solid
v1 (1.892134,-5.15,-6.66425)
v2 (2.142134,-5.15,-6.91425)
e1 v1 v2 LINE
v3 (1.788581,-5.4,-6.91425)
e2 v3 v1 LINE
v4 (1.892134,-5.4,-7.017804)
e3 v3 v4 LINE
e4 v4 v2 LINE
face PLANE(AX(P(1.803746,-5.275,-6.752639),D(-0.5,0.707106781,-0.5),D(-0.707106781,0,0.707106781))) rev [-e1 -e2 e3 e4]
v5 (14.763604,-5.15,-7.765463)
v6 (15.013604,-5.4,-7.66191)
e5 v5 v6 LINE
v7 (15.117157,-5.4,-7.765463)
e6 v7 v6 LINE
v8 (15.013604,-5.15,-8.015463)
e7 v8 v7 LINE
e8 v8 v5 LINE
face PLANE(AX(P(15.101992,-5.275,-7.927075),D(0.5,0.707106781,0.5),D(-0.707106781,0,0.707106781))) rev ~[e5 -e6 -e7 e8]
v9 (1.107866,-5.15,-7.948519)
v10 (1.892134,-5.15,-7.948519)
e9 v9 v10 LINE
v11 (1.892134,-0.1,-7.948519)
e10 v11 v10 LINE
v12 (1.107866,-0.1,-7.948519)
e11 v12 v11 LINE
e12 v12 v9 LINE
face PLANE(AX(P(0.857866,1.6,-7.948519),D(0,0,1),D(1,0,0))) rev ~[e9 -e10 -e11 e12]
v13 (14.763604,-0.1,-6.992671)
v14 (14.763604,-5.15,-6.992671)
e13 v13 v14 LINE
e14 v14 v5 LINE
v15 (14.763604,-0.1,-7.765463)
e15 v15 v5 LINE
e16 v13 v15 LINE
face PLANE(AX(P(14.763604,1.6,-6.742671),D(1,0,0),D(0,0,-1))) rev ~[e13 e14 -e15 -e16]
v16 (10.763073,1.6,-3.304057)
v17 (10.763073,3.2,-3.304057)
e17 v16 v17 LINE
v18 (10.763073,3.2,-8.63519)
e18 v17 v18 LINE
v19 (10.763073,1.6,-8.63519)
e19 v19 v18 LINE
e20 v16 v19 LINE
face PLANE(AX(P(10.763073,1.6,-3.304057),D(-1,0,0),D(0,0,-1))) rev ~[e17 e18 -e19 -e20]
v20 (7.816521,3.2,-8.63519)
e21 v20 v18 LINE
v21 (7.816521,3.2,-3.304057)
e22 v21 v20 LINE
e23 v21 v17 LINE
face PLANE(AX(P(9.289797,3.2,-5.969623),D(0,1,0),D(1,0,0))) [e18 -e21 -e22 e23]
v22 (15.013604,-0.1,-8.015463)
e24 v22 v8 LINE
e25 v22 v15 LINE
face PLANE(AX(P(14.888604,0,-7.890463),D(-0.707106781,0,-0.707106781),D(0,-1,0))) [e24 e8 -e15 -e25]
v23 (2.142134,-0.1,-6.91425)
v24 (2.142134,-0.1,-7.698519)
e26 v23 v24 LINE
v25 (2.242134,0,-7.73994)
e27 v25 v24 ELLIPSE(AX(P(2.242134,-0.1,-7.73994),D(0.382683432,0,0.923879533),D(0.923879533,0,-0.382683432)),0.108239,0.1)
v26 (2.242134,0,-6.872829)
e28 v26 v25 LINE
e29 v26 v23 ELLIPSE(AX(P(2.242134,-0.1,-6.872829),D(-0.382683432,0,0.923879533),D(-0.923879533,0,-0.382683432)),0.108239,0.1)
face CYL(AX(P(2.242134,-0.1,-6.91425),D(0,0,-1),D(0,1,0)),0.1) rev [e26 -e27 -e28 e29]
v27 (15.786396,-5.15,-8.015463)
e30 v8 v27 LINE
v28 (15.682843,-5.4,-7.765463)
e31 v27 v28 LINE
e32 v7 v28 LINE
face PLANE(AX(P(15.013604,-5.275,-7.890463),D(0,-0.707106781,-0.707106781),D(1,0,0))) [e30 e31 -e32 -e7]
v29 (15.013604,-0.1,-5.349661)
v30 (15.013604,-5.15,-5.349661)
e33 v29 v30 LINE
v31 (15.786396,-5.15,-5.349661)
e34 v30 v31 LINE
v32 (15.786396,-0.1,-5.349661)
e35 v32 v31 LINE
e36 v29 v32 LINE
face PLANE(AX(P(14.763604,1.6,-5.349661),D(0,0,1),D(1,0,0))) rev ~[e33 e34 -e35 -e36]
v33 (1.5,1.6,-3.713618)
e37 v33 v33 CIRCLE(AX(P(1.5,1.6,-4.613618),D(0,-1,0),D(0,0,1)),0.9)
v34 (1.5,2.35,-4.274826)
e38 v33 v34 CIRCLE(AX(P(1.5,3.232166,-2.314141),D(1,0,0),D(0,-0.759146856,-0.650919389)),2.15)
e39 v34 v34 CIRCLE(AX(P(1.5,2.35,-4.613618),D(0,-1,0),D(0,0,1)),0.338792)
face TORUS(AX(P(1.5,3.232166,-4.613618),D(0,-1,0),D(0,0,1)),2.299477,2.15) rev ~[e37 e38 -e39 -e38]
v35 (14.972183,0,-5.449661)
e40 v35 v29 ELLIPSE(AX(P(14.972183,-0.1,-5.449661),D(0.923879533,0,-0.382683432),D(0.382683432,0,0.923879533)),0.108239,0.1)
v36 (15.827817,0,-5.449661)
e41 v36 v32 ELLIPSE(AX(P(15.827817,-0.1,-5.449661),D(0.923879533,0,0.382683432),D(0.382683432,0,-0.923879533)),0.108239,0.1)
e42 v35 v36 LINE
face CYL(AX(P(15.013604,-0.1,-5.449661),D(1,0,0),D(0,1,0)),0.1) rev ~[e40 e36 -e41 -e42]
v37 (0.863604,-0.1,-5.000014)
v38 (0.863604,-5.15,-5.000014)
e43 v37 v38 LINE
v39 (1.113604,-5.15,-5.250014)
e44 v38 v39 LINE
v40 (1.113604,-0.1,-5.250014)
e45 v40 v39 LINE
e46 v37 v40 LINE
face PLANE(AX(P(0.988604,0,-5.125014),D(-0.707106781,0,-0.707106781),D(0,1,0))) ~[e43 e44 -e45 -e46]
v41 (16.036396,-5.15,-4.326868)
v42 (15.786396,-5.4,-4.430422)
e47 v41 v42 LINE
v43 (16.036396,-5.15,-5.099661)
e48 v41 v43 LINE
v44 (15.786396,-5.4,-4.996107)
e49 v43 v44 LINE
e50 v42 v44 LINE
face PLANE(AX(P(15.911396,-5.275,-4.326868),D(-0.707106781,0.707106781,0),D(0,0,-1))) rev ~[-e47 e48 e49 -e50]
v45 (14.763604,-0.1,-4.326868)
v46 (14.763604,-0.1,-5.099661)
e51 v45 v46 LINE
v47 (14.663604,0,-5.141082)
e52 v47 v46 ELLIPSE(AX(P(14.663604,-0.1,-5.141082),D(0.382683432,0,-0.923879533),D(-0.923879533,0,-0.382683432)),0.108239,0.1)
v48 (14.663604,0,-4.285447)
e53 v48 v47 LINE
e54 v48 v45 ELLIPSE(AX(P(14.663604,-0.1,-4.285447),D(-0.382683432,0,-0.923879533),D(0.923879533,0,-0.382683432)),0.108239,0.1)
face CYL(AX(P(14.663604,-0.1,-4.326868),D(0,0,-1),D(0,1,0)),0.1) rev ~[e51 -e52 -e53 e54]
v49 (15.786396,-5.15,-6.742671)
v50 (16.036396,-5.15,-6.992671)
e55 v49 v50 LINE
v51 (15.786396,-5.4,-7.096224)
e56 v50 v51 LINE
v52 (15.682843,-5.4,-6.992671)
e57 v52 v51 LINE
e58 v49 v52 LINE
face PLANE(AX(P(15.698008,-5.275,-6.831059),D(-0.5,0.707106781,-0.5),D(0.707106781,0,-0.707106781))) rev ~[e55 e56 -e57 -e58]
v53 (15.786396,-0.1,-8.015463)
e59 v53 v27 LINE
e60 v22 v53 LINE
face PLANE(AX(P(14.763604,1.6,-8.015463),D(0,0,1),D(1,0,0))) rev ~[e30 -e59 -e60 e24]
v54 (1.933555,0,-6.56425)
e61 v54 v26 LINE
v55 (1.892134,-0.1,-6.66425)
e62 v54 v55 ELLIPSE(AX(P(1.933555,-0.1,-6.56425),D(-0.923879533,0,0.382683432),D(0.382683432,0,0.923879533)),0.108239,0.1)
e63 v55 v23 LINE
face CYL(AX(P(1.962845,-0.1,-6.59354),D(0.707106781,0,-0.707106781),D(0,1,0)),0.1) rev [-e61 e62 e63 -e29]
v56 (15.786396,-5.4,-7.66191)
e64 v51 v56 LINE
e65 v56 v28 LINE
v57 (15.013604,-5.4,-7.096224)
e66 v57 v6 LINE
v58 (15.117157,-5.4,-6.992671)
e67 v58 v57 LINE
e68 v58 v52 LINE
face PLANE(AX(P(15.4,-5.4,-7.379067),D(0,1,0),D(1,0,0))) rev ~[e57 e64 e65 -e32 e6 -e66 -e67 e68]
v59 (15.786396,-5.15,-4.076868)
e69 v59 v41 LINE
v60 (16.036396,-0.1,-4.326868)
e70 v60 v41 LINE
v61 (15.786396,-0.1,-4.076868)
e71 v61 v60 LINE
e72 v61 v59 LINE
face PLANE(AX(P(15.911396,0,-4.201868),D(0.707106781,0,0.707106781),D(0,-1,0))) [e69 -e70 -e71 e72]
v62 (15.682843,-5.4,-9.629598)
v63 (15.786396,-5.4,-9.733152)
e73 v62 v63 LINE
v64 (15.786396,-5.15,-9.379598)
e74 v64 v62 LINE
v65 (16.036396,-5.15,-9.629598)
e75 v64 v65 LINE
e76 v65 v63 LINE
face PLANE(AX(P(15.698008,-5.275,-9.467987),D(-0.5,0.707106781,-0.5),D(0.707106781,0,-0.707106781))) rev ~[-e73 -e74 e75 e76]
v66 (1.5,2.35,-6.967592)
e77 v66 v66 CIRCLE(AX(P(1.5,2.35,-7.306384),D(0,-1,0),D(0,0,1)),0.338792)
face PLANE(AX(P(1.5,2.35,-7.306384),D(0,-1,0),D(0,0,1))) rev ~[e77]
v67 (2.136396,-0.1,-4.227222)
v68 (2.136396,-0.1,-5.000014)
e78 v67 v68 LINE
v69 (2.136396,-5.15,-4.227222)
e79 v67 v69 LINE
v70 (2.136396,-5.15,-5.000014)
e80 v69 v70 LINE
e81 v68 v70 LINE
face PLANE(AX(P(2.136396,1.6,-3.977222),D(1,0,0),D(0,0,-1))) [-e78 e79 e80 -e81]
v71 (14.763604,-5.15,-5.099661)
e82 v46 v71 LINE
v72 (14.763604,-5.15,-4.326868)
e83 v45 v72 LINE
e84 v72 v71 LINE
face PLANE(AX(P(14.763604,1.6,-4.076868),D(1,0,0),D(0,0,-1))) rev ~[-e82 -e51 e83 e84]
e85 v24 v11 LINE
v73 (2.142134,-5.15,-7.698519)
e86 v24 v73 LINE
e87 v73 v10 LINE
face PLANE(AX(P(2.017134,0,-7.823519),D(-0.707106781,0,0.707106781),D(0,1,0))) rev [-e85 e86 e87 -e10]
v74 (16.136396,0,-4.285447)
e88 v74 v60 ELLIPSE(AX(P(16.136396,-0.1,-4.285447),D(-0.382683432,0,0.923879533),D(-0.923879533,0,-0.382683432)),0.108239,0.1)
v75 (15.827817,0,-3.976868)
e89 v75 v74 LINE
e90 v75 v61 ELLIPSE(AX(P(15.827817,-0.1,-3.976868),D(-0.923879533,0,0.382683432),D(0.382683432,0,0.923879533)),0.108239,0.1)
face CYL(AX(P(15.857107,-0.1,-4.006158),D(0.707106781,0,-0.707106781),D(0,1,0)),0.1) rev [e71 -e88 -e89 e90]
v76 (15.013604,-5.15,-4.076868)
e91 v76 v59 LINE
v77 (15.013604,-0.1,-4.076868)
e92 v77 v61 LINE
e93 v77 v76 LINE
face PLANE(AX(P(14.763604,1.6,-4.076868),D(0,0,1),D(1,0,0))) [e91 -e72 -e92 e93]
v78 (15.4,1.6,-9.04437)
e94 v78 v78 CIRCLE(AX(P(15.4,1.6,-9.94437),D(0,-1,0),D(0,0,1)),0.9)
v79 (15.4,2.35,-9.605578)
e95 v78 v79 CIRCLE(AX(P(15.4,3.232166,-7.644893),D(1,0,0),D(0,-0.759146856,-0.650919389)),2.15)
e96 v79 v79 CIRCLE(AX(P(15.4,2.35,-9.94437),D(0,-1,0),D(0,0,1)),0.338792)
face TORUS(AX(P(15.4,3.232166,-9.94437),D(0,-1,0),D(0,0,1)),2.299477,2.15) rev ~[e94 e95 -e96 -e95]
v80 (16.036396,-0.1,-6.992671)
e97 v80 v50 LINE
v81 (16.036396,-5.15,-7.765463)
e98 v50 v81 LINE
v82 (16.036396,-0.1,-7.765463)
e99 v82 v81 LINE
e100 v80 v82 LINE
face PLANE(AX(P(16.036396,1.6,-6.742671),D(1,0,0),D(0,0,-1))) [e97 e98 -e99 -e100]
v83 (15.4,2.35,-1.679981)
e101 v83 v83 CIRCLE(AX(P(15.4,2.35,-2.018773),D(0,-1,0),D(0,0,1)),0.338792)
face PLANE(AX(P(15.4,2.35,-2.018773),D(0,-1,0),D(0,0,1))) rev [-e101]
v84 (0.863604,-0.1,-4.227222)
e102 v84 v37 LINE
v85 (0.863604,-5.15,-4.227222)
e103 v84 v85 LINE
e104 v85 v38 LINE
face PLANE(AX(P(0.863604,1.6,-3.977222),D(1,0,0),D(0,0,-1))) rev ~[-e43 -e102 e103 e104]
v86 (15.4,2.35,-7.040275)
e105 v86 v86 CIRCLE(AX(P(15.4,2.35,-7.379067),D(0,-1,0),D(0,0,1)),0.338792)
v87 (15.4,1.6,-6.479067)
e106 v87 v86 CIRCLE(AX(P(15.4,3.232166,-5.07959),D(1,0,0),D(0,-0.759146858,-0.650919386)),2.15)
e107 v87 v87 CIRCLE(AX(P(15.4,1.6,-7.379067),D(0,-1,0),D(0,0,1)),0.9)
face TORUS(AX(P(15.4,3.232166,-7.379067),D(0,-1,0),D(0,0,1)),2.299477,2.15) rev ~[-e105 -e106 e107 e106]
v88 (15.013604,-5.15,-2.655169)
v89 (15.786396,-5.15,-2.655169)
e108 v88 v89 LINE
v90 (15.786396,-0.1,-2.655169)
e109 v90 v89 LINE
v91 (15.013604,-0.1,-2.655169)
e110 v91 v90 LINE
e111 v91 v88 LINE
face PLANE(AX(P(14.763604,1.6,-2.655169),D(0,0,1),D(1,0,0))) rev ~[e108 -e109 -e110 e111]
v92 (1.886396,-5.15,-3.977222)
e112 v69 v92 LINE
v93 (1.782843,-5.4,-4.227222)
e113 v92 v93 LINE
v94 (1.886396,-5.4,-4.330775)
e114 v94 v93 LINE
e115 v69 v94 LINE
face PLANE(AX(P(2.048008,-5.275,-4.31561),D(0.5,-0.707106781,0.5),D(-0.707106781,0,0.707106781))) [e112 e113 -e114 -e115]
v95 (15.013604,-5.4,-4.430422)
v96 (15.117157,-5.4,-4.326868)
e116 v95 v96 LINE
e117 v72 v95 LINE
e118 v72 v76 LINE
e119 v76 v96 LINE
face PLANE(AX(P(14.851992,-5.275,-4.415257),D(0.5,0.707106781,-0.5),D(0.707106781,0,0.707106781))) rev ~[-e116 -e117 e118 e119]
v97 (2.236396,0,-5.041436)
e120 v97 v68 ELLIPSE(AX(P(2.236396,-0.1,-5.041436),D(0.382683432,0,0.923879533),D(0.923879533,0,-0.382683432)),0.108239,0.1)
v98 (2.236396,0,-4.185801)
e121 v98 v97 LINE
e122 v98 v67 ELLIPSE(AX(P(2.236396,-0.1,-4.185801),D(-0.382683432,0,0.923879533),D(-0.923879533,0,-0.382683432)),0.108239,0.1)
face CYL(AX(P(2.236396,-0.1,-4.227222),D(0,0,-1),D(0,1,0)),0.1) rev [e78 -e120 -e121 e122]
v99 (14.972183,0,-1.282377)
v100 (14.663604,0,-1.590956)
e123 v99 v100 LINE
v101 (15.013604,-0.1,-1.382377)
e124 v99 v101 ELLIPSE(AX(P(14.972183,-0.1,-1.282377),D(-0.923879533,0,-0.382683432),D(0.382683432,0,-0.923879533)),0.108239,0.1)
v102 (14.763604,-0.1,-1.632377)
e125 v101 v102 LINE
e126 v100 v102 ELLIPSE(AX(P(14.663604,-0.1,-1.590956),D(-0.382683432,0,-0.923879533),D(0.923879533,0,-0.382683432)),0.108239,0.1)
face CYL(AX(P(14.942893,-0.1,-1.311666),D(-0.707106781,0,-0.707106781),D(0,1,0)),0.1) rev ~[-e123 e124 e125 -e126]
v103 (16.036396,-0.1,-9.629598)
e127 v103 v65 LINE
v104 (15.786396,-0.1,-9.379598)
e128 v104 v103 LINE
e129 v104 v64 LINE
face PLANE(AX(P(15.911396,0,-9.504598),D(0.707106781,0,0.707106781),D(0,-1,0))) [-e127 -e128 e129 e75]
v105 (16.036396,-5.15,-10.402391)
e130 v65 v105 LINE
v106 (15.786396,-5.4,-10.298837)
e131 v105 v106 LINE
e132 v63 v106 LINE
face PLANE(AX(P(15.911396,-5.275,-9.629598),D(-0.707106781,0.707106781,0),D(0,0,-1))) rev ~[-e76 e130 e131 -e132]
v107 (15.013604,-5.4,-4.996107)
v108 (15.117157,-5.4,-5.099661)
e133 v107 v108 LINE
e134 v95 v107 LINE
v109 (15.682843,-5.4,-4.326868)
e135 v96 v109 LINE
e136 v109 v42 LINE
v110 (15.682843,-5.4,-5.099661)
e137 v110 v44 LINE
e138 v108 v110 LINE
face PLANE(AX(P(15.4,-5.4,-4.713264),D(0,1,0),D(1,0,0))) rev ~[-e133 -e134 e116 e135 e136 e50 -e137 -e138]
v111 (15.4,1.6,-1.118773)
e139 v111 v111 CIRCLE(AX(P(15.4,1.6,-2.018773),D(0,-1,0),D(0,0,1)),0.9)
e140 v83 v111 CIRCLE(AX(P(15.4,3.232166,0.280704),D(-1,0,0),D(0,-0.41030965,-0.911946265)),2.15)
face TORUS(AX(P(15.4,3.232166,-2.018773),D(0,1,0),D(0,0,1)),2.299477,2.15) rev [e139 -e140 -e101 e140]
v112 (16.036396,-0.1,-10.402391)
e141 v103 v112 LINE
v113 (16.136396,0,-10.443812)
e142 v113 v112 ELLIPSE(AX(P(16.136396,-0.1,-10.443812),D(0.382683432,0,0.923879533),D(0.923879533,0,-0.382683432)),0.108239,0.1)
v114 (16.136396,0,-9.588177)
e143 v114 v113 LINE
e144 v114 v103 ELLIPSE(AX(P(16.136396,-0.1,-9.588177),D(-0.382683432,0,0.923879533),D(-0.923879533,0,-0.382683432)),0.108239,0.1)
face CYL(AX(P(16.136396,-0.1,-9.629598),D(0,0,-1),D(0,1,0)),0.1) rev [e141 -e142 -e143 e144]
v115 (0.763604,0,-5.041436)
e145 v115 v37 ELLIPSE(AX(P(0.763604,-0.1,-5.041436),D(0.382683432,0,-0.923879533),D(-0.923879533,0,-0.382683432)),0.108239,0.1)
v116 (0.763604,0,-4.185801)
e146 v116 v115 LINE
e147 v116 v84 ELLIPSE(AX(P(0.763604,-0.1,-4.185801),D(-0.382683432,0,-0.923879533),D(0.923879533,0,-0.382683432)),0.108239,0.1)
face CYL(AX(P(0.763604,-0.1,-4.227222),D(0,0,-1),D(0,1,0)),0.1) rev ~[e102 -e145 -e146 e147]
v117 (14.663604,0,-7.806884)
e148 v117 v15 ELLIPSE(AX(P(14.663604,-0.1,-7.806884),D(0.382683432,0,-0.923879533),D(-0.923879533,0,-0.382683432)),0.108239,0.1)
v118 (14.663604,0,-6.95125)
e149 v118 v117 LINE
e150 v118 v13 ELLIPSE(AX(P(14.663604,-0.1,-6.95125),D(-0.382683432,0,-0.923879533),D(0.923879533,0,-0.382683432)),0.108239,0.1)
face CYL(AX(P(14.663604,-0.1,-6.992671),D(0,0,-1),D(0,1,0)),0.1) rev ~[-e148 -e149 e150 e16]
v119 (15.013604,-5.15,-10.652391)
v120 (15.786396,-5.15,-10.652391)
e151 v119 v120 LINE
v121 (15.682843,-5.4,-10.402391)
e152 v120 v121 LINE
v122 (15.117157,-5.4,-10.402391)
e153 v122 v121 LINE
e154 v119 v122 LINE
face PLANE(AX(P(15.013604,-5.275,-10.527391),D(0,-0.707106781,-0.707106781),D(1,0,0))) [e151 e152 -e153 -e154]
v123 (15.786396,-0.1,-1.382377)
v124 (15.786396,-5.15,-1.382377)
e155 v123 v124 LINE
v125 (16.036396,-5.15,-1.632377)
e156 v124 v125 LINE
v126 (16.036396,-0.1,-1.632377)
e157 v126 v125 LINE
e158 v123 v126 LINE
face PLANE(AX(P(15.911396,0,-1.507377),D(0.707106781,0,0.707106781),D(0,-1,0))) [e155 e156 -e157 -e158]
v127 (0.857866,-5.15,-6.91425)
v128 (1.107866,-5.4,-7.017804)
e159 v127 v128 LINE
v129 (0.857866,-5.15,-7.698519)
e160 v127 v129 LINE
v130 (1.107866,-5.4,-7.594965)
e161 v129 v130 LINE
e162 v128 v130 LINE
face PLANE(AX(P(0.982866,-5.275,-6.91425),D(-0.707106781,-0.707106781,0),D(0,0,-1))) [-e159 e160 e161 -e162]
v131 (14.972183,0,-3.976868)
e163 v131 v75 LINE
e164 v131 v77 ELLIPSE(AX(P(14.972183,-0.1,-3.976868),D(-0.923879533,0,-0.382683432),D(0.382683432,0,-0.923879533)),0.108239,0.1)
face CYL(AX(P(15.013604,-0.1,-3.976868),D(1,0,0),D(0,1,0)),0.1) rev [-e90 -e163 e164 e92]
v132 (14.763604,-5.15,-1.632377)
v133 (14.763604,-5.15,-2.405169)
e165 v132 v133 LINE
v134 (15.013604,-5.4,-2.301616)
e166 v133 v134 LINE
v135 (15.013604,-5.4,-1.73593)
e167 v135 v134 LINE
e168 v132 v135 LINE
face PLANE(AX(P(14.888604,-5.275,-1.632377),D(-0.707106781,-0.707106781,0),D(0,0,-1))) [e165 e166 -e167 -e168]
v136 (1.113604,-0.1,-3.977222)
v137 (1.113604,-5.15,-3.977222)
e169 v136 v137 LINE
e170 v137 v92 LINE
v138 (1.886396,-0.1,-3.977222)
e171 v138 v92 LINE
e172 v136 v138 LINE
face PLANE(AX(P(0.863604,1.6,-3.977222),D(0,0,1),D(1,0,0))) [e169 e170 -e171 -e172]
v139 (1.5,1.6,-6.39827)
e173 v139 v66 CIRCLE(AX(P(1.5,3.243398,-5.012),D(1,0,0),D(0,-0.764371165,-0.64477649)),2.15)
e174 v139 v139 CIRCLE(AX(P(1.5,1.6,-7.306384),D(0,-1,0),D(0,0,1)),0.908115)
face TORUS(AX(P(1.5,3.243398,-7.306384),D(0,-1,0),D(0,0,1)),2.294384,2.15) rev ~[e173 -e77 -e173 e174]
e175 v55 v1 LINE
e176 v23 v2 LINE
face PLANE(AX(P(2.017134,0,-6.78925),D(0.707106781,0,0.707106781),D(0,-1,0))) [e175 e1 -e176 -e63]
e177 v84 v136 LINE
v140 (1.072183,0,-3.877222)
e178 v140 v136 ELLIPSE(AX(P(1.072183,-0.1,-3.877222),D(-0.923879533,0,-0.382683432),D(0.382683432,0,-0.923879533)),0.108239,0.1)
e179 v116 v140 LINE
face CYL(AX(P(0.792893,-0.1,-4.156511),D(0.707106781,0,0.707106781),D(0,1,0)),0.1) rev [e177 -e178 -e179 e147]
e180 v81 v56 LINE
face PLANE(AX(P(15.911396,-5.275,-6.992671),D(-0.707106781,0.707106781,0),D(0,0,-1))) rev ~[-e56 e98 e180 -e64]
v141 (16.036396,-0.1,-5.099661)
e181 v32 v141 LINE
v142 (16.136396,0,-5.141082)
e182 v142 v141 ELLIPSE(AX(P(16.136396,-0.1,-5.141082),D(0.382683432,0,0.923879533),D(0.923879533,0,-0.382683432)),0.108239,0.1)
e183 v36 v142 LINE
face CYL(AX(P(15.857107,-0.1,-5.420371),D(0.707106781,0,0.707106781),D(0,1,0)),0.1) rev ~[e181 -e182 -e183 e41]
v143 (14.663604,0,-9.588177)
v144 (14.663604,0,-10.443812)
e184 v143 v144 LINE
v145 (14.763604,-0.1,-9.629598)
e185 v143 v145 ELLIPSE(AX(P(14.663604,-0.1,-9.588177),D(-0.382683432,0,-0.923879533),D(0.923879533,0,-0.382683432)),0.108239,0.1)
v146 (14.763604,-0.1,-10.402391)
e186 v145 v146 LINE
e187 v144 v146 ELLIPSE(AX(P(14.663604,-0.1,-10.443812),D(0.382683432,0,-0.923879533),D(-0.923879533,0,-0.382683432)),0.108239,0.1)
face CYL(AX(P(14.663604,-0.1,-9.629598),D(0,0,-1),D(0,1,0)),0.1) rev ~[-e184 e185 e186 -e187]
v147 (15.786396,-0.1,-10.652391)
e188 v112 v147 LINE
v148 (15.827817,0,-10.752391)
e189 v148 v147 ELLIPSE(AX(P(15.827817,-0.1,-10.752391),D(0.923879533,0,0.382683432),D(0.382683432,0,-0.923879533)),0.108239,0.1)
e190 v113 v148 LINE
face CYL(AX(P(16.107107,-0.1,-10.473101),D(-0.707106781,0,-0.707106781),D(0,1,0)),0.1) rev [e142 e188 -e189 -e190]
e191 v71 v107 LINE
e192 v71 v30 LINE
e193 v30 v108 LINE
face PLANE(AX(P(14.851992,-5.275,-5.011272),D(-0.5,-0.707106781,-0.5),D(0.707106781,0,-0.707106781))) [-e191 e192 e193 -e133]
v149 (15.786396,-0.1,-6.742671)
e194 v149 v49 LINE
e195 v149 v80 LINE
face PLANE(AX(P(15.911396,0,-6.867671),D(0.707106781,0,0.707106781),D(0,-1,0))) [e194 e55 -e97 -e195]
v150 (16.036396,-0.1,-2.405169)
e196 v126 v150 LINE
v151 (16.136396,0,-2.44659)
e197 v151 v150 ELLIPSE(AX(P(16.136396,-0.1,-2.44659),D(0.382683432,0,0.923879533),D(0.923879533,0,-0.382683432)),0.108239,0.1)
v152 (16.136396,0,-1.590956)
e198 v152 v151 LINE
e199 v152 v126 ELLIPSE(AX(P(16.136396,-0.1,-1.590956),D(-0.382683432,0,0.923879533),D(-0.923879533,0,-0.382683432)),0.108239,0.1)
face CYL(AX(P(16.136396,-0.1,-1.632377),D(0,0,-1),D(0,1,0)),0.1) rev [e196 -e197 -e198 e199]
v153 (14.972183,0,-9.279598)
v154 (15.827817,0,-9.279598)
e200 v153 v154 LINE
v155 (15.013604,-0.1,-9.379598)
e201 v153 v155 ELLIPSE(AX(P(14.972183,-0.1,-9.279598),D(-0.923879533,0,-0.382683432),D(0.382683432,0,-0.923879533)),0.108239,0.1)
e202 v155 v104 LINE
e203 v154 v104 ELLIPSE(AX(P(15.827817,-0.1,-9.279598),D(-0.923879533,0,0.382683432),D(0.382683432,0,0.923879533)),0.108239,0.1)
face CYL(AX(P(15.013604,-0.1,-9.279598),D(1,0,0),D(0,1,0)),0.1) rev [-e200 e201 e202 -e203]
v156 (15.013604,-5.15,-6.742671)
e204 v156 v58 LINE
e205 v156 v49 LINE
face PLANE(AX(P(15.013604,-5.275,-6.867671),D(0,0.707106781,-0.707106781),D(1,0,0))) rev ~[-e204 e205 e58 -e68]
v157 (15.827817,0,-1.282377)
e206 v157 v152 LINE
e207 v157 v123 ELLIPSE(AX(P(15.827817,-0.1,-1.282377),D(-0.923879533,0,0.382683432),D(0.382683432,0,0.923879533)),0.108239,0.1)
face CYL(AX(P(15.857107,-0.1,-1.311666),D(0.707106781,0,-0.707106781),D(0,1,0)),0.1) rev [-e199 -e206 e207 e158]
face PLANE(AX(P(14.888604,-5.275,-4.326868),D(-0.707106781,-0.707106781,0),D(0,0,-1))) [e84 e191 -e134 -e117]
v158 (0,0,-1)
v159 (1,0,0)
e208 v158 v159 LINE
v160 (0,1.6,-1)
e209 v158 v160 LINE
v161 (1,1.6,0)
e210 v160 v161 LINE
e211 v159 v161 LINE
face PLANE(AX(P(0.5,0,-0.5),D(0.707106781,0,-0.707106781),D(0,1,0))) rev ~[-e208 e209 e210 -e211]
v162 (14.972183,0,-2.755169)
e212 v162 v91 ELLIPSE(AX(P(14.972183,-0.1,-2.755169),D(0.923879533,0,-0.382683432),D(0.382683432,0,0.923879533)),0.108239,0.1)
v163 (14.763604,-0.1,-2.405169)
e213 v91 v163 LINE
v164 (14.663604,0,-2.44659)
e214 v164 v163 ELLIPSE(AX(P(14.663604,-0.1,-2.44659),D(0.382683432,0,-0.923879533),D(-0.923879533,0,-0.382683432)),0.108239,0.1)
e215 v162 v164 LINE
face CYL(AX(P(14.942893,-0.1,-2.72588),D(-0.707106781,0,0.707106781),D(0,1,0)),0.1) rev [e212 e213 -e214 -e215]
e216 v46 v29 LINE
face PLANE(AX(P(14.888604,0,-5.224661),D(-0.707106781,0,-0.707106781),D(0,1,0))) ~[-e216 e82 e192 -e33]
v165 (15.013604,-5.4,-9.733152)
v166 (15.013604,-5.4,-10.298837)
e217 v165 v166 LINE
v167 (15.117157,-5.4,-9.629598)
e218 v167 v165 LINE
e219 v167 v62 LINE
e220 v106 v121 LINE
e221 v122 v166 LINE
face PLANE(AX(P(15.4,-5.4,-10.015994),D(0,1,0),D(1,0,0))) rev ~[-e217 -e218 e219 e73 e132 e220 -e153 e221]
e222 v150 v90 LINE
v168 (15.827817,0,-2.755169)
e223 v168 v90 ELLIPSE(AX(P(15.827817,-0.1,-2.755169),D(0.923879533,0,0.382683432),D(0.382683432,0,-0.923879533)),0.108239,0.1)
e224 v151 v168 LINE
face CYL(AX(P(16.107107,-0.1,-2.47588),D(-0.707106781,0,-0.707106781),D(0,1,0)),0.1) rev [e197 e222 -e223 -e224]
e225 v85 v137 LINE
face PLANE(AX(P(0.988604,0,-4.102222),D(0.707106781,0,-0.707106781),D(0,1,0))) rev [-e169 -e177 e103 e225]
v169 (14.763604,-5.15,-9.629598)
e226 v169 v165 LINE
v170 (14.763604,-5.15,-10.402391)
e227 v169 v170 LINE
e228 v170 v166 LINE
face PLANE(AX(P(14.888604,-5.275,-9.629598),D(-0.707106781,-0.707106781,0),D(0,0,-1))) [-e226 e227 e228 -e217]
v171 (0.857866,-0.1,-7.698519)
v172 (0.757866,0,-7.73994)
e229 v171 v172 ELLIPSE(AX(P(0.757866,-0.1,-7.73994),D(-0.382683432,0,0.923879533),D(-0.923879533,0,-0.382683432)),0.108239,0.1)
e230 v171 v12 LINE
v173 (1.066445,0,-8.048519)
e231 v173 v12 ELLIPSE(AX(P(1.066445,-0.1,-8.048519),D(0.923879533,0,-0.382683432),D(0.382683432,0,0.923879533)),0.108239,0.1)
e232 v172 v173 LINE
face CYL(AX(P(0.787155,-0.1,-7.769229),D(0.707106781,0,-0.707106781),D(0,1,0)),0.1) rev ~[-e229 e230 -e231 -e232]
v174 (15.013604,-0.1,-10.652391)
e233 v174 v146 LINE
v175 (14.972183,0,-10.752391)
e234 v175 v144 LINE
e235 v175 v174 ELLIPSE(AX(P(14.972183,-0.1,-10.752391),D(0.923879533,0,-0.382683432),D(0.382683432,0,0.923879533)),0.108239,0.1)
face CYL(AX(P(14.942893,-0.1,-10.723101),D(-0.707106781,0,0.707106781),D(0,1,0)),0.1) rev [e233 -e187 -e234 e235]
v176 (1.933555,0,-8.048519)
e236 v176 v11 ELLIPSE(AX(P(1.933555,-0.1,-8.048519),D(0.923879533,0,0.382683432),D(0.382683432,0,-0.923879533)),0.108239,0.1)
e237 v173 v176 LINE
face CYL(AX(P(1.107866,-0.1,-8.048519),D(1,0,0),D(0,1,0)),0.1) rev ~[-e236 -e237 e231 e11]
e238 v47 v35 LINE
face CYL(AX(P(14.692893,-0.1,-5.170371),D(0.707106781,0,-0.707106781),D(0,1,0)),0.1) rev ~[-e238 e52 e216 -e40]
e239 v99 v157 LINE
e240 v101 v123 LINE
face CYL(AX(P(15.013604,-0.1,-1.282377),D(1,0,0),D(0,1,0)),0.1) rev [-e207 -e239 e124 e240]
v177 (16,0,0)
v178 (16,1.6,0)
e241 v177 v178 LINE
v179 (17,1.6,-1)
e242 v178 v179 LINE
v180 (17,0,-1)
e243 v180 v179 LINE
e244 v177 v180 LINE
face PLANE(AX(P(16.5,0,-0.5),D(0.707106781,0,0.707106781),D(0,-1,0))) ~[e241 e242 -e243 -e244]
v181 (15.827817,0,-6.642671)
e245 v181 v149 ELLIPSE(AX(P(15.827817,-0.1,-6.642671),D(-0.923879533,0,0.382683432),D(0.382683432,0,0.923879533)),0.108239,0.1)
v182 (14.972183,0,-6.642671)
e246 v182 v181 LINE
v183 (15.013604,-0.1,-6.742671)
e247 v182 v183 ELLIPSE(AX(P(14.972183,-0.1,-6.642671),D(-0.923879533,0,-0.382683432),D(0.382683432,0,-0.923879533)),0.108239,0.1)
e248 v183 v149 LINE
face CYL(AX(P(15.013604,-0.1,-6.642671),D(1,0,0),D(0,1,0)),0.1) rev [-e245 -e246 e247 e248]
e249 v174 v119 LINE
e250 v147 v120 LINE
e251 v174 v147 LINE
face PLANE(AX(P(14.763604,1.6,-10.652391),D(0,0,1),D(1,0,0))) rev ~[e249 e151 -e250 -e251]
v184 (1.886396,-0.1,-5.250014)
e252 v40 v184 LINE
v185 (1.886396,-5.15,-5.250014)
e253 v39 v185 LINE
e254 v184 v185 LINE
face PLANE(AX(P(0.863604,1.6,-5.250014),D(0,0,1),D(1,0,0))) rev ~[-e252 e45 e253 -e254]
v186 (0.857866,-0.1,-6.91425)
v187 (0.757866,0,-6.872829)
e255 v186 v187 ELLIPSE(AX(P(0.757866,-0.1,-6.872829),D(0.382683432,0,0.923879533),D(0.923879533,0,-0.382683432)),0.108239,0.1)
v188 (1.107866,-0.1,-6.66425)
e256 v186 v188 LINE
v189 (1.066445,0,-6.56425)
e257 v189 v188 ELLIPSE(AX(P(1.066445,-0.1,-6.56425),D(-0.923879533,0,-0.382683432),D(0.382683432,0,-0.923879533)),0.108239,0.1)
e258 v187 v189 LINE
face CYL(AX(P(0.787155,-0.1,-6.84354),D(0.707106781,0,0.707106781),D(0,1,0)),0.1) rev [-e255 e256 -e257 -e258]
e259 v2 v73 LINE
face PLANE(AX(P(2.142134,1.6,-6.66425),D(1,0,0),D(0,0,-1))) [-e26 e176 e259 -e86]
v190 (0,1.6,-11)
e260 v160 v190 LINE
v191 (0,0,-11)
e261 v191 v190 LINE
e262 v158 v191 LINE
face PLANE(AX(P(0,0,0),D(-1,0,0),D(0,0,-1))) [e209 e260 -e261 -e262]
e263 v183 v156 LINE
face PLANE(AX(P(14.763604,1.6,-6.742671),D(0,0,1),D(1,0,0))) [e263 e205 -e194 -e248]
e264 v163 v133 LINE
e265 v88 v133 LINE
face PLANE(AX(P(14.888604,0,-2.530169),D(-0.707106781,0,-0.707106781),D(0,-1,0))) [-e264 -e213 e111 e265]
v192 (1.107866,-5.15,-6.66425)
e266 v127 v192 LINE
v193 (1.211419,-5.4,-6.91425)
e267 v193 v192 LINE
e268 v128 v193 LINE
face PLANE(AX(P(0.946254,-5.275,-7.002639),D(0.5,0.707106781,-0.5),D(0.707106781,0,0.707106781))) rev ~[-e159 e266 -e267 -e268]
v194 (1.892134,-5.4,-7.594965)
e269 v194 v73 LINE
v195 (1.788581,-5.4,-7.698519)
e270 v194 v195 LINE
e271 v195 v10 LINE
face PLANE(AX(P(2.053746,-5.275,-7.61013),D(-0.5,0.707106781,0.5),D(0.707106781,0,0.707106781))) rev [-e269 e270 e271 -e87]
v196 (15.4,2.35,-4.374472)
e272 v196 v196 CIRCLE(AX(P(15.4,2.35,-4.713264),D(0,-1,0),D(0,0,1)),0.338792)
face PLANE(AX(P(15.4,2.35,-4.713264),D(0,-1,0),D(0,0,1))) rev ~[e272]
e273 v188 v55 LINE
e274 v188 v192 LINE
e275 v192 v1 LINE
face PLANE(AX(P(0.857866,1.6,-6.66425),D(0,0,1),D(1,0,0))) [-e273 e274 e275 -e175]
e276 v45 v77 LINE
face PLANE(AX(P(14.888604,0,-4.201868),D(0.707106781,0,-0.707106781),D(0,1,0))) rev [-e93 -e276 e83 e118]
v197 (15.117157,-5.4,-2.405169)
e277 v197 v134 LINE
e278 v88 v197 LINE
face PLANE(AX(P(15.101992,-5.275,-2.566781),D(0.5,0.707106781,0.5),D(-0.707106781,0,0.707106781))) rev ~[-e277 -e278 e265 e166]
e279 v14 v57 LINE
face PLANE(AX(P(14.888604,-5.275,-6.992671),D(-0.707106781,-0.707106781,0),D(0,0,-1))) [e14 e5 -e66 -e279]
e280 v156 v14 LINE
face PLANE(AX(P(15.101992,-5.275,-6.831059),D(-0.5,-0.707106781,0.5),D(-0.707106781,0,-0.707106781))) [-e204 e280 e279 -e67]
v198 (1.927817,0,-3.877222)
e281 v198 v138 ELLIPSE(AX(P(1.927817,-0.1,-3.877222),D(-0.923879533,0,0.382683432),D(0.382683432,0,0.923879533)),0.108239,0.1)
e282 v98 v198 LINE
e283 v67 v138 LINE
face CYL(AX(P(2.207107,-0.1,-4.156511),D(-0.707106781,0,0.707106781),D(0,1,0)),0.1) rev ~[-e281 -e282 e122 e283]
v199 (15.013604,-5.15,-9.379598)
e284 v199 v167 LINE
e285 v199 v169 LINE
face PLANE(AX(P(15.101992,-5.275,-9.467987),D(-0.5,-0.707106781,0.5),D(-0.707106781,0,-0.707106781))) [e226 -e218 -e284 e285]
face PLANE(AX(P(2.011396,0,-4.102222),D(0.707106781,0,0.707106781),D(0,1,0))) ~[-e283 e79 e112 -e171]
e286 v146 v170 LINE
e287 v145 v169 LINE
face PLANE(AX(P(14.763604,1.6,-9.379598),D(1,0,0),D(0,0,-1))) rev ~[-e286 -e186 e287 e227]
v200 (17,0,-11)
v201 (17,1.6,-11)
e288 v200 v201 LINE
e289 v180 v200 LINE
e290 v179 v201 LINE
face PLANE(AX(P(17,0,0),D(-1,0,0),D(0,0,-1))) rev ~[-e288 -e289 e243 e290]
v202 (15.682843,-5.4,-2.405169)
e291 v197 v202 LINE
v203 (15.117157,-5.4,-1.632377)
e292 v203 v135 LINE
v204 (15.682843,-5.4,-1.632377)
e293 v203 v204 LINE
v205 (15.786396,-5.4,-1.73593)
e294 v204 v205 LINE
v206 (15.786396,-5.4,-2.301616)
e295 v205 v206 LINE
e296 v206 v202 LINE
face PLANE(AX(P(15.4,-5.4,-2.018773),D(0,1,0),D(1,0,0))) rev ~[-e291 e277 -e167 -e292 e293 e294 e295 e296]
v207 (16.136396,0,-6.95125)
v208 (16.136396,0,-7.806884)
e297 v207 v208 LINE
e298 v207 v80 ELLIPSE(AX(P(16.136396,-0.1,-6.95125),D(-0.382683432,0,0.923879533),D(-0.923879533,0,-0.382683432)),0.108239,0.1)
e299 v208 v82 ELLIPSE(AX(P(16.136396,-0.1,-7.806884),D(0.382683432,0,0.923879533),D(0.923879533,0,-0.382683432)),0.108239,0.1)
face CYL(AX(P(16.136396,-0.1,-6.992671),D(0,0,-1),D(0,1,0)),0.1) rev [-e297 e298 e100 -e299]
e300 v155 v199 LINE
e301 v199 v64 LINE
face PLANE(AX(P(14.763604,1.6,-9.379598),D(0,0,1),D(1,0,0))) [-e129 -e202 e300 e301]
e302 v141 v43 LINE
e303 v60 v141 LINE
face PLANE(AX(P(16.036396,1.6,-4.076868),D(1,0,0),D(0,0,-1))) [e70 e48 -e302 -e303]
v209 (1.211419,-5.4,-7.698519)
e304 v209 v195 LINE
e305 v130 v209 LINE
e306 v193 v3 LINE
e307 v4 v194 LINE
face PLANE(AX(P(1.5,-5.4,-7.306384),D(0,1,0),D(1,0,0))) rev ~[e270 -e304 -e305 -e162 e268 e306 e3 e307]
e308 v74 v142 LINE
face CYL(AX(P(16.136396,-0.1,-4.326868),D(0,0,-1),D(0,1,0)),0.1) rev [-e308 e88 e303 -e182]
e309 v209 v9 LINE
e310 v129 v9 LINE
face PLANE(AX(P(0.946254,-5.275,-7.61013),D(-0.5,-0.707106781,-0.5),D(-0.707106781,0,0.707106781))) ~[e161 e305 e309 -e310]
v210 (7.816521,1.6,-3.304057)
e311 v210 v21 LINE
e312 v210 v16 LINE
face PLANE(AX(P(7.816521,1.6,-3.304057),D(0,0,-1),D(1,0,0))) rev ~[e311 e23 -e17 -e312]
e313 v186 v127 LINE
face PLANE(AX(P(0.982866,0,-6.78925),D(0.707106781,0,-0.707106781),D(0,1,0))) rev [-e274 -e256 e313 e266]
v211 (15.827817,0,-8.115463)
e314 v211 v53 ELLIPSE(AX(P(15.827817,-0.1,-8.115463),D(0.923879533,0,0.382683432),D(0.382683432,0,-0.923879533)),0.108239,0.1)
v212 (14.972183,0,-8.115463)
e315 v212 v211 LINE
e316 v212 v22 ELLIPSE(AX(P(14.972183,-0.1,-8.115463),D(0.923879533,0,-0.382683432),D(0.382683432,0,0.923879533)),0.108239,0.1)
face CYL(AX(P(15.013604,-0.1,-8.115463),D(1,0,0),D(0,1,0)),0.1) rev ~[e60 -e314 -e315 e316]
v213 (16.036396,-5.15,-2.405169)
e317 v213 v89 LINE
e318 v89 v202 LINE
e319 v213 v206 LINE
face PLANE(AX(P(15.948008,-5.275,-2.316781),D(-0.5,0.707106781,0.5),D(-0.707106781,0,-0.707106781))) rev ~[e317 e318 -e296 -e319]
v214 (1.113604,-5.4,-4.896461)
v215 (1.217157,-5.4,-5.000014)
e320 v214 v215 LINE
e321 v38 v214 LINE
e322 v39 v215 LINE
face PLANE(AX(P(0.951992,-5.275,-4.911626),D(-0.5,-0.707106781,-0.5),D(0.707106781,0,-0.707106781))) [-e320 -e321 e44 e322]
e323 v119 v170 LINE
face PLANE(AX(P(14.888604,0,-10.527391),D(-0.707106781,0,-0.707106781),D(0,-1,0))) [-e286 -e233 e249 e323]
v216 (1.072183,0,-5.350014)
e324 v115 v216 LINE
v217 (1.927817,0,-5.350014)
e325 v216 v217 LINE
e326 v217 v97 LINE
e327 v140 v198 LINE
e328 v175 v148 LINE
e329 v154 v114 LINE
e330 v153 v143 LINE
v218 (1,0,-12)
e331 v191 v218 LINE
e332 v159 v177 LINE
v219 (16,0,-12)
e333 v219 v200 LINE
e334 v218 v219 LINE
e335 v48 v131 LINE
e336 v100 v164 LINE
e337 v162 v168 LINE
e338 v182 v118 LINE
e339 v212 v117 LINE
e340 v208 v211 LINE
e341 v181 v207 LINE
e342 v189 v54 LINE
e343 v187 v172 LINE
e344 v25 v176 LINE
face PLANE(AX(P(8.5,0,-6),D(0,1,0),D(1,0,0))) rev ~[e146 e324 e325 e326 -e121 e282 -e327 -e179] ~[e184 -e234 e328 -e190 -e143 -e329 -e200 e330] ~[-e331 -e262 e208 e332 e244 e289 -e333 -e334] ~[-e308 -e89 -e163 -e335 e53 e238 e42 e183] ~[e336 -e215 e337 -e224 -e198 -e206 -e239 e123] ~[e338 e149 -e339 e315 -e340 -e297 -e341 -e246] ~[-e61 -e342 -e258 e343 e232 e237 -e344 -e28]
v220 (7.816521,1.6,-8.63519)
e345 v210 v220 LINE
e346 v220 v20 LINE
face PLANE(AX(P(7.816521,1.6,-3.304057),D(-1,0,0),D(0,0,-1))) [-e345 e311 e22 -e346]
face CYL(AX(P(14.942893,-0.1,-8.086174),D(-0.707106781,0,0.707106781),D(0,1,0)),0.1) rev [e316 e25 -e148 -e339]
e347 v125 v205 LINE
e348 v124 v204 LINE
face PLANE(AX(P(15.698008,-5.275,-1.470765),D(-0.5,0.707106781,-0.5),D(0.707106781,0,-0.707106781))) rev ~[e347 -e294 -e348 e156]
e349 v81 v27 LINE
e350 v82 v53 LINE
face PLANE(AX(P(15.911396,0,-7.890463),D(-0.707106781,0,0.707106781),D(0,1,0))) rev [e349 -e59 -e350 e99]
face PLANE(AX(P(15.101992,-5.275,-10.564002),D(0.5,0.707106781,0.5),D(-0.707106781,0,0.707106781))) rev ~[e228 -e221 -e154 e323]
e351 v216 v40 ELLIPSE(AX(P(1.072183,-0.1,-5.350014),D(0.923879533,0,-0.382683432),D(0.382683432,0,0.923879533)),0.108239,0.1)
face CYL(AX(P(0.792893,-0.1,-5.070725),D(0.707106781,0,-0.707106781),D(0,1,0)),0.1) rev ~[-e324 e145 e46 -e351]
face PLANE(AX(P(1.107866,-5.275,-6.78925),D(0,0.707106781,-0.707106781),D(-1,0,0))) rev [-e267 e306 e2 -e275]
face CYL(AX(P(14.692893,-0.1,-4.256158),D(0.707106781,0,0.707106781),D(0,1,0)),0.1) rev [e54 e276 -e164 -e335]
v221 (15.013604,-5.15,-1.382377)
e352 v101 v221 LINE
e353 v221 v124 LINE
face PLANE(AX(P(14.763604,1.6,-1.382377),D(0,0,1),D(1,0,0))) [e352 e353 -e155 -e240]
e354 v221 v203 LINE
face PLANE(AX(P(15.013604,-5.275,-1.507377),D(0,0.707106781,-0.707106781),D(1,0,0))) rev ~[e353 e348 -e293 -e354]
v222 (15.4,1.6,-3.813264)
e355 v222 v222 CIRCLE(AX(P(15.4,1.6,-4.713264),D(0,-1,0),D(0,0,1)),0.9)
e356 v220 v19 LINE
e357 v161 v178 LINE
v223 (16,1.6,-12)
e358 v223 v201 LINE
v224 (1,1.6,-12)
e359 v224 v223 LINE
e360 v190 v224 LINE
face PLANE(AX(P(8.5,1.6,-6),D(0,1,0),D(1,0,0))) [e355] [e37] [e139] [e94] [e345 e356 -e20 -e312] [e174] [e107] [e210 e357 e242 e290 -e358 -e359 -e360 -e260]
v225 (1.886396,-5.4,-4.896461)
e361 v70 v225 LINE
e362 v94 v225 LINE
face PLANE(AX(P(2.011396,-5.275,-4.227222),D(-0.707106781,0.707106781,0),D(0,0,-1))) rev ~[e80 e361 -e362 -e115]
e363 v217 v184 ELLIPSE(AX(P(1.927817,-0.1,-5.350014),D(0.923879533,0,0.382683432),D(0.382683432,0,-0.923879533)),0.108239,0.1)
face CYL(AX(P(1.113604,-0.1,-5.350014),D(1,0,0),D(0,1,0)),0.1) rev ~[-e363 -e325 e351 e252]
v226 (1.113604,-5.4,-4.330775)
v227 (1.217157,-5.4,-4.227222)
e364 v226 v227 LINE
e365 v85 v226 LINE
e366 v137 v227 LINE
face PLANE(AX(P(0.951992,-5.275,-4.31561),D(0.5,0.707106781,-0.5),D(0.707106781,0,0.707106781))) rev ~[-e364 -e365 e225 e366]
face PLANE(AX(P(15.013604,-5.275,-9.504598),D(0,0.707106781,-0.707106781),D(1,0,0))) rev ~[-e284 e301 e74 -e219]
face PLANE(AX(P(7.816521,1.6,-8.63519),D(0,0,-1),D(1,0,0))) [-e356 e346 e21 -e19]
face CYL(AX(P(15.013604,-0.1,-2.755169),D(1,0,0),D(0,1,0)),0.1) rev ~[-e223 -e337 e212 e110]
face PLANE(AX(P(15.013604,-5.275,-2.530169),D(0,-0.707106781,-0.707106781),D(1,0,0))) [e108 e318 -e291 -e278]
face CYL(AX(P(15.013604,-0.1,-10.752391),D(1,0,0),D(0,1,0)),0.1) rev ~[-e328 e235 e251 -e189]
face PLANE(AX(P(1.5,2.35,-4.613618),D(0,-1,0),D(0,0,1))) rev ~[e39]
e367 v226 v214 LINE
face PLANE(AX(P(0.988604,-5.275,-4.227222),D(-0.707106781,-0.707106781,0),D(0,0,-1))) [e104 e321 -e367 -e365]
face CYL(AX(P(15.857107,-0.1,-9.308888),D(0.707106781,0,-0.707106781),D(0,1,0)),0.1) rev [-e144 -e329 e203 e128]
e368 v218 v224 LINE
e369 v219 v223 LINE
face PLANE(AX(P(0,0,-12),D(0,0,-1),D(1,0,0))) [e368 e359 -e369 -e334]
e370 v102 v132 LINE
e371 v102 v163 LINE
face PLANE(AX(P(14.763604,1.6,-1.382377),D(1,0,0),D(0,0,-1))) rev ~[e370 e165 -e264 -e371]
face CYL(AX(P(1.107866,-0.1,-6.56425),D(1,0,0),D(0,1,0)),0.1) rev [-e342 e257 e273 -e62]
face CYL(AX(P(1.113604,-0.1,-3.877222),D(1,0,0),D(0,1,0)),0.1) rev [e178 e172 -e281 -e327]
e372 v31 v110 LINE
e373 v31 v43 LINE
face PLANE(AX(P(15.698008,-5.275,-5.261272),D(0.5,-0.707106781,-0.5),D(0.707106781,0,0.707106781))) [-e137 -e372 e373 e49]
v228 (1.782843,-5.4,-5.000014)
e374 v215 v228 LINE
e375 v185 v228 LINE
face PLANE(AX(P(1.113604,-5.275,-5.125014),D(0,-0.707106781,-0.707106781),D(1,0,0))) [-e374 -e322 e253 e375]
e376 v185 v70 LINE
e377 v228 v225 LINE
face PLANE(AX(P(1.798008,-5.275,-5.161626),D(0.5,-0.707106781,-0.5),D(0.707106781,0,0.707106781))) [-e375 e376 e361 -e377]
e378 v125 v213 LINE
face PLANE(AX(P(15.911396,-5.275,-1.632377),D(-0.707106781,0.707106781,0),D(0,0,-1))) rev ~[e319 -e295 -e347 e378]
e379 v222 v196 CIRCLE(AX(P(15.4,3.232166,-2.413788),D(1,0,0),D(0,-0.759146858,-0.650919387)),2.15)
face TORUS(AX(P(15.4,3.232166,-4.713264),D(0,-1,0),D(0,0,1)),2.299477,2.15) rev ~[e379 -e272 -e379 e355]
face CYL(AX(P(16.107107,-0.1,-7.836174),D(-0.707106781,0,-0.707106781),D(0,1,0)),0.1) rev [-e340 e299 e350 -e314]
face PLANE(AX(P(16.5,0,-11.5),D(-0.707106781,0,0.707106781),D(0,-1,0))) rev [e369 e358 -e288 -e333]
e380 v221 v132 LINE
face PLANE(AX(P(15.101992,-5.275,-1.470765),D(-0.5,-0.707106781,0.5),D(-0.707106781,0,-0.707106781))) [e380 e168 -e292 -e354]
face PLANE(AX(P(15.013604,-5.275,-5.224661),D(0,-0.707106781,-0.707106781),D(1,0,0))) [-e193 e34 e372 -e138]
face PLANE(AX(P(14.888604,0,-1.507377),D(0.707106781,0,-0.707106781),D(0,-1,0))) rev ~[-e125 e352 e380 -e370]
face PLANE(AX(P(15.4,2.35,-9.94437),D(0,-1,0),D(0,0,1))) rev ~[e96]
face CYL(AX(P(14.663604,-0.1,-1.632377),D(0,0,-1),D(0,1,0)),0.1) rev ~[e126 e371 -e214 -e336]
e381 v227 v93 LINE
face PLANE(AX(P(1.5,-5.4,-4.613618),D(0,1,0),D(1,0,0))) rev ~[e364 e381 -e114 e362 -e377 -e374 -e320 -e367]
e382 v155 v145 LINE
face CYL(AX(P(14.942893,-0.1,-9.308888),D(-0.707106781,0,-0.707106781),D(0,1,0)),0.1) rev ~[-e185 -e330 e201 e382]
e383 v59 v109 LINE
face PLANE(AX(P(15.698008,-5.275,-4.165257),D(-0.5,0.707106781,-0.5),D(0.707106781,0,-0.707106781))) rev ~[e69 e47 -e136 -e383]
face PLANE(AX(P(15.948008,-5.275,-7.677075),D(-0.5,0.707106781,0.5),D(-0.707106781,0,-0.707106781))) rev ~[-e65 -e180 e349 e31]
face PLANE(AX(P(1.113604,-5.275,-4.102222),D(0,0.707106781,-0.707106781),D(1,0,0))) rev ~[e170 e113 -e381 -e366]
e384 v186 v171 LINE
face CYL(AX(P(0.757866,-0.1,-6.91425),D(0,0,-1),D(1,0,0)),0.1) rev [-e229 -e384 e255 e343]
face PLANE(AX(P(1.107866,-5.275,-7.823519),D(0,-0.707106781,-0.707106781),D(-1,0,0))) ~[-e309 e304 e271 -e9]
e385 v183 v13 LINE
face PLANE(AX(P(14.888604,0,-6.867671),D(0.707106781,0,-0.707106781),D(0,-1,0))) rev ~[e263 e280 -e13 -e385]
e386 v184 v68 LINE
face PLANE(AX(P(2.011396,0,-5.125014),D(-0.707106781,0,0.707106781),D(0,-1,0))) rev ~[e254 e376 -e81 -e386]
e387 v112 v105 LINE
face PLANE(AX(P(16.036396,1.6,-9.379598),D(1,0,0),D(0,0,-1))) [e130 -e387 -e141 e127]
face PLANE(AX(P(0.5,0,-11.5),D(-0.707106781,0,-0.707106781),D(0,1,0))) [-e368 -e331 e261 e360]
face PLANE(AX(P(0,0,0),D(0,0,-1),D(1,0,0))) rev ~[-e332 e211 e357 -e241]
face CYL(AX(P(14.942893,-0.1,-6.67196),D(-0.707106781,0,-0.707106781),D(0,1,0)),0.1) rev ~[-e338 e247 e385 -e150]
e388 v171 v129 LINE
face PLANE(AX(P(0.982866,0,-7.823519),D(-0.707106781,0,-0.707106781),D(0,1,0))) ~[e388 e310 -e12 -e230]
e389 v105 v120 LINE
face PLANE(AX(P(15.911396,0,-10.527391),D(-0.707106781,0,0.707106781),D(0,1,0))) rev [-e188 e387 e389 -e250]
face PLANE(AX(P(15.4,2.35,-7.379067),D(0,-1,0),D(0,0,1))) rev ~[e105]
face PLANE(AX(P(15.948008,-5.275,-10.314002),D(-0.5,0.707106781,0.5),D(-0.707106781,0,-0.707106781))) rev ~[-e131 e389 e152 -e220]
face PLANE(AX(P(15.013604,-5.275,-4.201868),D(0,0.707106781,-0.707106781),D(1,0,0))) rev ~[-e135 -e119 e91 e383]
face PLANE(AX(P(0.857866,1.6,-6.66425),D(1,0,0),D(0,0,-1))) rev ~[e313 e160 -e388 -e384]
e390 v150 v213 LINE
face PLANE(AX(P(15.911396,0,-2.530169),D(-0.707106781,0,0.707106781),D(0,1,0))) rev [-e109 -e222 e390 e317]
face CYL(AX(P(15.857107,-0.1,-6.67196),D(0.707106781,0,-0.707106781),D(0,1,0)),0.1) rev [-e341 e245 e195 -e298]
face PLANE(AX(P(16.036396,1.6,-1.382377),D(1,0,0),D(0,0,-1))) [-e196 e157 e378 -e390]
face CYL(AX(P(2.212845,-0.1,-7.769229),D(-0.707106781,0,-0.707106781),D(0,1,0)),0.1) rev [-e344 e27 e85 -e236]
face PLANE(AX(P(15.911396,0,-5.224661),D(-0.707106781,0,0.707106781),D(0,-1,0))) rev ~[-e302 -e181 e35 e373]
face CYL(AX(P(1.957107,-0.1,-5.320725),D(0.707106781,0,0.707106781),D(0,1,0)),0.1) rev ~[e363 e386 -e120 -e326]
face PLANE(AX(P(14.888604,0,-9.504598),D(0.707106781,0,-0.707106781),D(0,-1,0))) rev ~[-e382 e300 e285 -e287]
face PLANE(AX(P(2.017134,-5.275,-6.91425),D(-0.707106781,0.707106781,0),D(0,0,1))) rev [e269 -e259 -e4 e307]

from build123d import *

# Parameters (mm, degrees)
SKETCH1_W           = 17
SKETCH1_H           = 12
BOSS_EXTRUDE1_DEPTH = 1.6
SKETCH3_W           = 2.946551977
SKETCH3_H           = 5.331132701
BOSS_EXTRUDE2_DEPTH = 1.6
SKETCH10_W          = 1.272792206
SKETCH10_H          = 1.272792206
SKETCH10_H_2        = 1.272792207
BOSS_EXTRUDE3_DEPTH = 7
CHAMFER1_SIZE       = 0.25
SKETCH14_W          = 1.28426818
SKETCH14_H          = 1.28426818
SKETCH14_W_2        = 1.272792206
SKETCH14_H_2        = 1.272792206
BOSS_EXTRUDE4_DEPTH = 7
CHAMFER3_SIZE       = 0.25
FILLET1_R           = 0.1
CHAMFER4_SIZE       = 0.25
CHAMFER5_SIZE       = 1


with BuildPart() as part:
    # Sketch1 → Boss-Extrude1 (new body)
    with BuildSketch(Plane(origin=(0, 0, 0), x_dir=(1, 0, 0), z_dir=(0, 1, 0))):
        with Locations((8.5, 6)):
            Rectangle(SKETCH1_W, SKETCH1_H)
    extrude(amount=BOSS_EXTRUDE1_DEPTH)

    # Sketch3 → Boss-Extrude2 (add)
    with BuildSketch(Plane(origin=(0, 1.6, 0), x_dir=(1, 0, 0), z_dir=(0, 1, 0))):
        with Locations((9.289797438, 5.969623176)):
            Rectangle(SKETCH3_W, SKETCH3_H)
    extrude(amount=BOSS_EXTRUDE2_DEPTH)

    # Sketch5 → Revolve1 (revolve)
    with BuildSketch(Plane(origin=(15.4, 0, 0), x_dir=(0, 0, -1), z_dir=(1, 0, 0)), mode=Mode.PRIVATE) as revolve1_sk:
        with BuildLine():
            Line((2.018773021, 2.35), (2.357565231, 2.35))
            ThreePointArc((2.357565231, 2.35), (2.59682711, 1.944064718), (2.918773021, 1.6))
            Line((2.918773021, 1.6), (2.018773021, 1.6))
            Line((2.018773021, 1.6), (2.018773021, 2.35))
        make_face()
    revolve(revolve1_sk.sketch.rotate(Axis((15.4, 2.35, -2.018773021), (0, -1, 0)), 180), axis=Axis((15.4, 2.35, -2.018773021), (0, -1, 0)))

    # Sketch9 → Revolve4 (revolve)
    with BuildSketch(Plane(origin=(15.4, 0, 0), x_dir=(0, 0, -1), z_dir=(1, 0, 0)), mode=Mode.PRIVATE) as revolve4_sk:
        with BuildLine():
            Line((7.717859188, 2.35), (7.379066978, 2.35))
            Line((7.379066978, 2.35), (7.379066978, 1.6))
            Line((7.379066978, 1.6), (8.279066978, 1.6))
            ThreePointArc((8.279066978, 1.6), (7.957121066, 1.944064718), (7.717859188, 2.35))
        make_face()
    revolve(revolve4_sk.sketch.rotate(Axis((15.4, 1.6, -7.379066978), (0, -1, 0)), 180), axis=Axis((15.4, 1.6, -7.379066978), (0, -1, 0)))



with BuildPart() as body_2:
    # Sketch7 → Revolve3 (revolve)
    with BuildSketch(Plane(origin=(15.4, 0, 0), x_dir=(0, 0, -1), z_dir=(1, 0, 0)), mode=Mode.PRIVATE) as revolve3_sk:
        with BuildLine():
            Line((5.05205667, 2.35), (4.713264461, 2.35))
            Line((4.713264461, 2.35), (4.713264461, 1.6))
            Line((4.713264461, 1.6), (5.613264461, 1.6))
            ThreePointArc((5.613264461, 1.6), (5.291318549, 1.944064718), (5.05205667, 2.35))
        make_face()
    revolve(revolve3_sk.sketch.rotate(Axis((15.4, 1.6, -4.713264461), (0, -1, 0)), 180), axis=Axis((15.4, 1.6, -4.713264461), (0, -1, 0)))


with BuildPart() as part_1:
    add(part.part)

    add(body_2.part)  # Boss-Extrude3 merges body 2
    # Sketch10 → Boss-Extrude3 (add)
    with BuildSketch(Plane(origin=(0, 1.6, 0), x_dir=(1, 0, 0), z_dir=(0, 1, 0))):
        with Locations((15.4, 4.713264461)):
            Rectangle(SKETCH10_W, SKETCH10_H)
        with Locations((15.4, 2.018773021)):
            Rectangle(SKETCH10_W, SKETCH10_H_2)
        with Locations((15.4, 7.379066978)):
            Rectangle(SKETCH10_W, SKETCH10_H)
        with Locations((15.4, 10.015994476)):
            Rectangle(SKETCH10_W, SKETCH10_H)
    extrude(amount=-BOSS_EXTRUDE3_DEPTH)

    # Sketch11 → Revolve5 (revolve)
    with BuildSketch(Plane(origin=(15.4, 0, 0), x_dir=(0, 0, -1), z_dir=(1, 0, 0)), mode=Mode.PRIVATE) as revolve5_sk:
        with BuildLine():
            Line((10.283162216, 2.35), (9.944370006, 2.35))
            Line((9.944370006, 2.35), (9.944370006, 1.6))
            Line((9.944370006, 1.6), (10.844370006, 1.6))
            ThreePointArc((10.844370006, 1.6), (10.522424095, 1.944064718), (10.283162216, 2.35))
        make_face()
    revolve(revolve5_sk.sketch.rotate(Axis((15.4, 2.571627195, -9.944370006), (0, -1, 0)), 180), axis=Axis((15.4, 2.571627195, -9.944370006), (0, -1, 0)))

    # Chamfer1
    chamfer1_edges = [part_1.edges().sort_by_distance(p)[0] for p in [
        (16.036396103, -2.7, -5.349660564),
        (16.036396103, -2.7, -4.076868358),
        (14.763603897, -2.7, -4.076868358),
        (14.763603897, -2.7, -5.349660564),
        (16.036396103, -2.7, -2.655169125),
        (16.036396103, -2.7, -1.382376918),
        (14.763603897, -2.7, -1.382376918),
        (14.763603897, -2.7, -2.655169125),
        (16.036396103, -2.7, -8.015463081),
        (16.036396103, -2.7, -6.742670875),
        (14.763603897, -2.7, -6.742670875),
        (14.763603897, -2.7, -8.015463081),
        (16.036396103, -2.7, -10.652390579),
        (16.036396103, -2.7, -9.379598373),
        (14.763603897, -2.7, -9.379598373),
        (14.763603897, -2.7, -10.652390579),
    ]]
    chamfer(chamfer1_edges, length=CHAMFER1_SIZE)

    # Sketch12 → Revolve6 (revolve)
    with BuildSketch(Plane.ZY.offset(-1.5)):
        with BuildLine():
            Line((-6.967592244, 2.35), (-7.306384453, 2.35))
            Line((-7.306384453, 2.35), (-7.306384453, 1.6))
            Line((-7.306384453, 1.6), (-6.398269714, 1.6))
            ThreePointArc((-6.398269714, 1.6), (-6.7244939, 1.943449723), (-6.967592244, 2.35))
        make_face()
    revolve(axis=Axis((1.5, 2.71137522, -7.306384453), (0, -1, 0)))

    # Sketch13 → Revolve7 (revolve)
    with BuildSketch(Plane.ZY.offset(-1.5)):
        with BuildLine():
            Line((-4.274825865, 2.35), (-4.613618075, 2.35))
            Line((-4.613618075, 2.35), (-4.613618075, 1.6))
            Line((-4.613618075, 1.6), (-3.713618075, 1.6))
            ThreePointArc((-3.713618075, 1.6), (-4.035563986, 1.944064718), (-4.274825865, 2.35))
        make_face()
    revolve(axis=Axis((1.5, 2.718876296, -4.613618075), (0, -1, 0)))

    # Sketch14 → Boss-Extrude4 (add)
    with BuildSketch(Plane(origin=(0, 1.6, 0), x_dir=(1, 0, 0), z_dir=(0, 1, 0))):
        with Locations((1.5, 7.306384453)):
            Rectangle(SKETCH14_W, SKETCH14_H)
        with Locations((1.5, 4.613618075)):
            Rectangle(SKETCH14_W_2, SKETCH14_H_2)
    extrude(amount=-BOSS_EXTRUDE4_DEPTH)

    # Chamfer3
    chamfer3_edges = [part_1.edges().sort_by_distance(p)[0] for p in [
        (2.14213409, -2.7, -7.948518543),
        (2.14213409, -2.7, -6.664250363),
        (0.85786591, -2.7, -6.664250363),
        (0.85786591, -2.7, -7.948518543),
        (2.136396103, -2.7, -5.250014178),
        (2.136396103, -2.7, -3.977221972),
        (0.863603897, -2.7, -3.977221972),
        (0.863603897, -2.7, -5.250014178),
    ]]
    chamfer(chamfer3_edges, length=CHAMFER3_SIZE)

    # Fillet1
    fillet1_edges = [part_1.edges().sort_by_distance(p)[0] for p in [
        (15.4, 0, -9.379598373),
        (16.036396103, 0, -10.015994476),
        (14.763603897, 0, -10.015994476),
        (15.4, 0, -10.652390579),
        (15.4, 0, -6.742670875),
        (16.036396103, 0, -7.379066978),
        (14.763603897, 0, -7.379066978),
        (15.4, 0, -8.015463081),
        (14.763603897, 0, -4.713264461),
        (15.4, 0, -4.076868358),
        (15.4, 0, -5.349660564),
        (16.036396103, 0, -4.713264461),
        (15.4, 0, -1.382376918),
        (16.036396103, 0, -2.018773021),
        (14.763603897, 0, -2.018773021),
        (15.4, 0, -2.655169125),
        (15.911396103, 0, -9.504598373),
        (14.888603897, 0, -9.504598373),
        (14.888603897, 0, -10.527390579),
        (15.911396103, 0, -10.527390579),
        (15.911396103, 0, -6.867670875),
        (14.888603897, 0, -6.867670875),
        (14.888603897, 0, -7.890463081),
        (15.911396103, 0, -7.890463081),
        (14.888603897, 0, -4.201868358),
        (14.888603897, 0, -5.224660564),
        (15.911396103, 0, -4.201868358),
        (15.911396103, 0, -5.224660564),
        (15.911396103, 0, -1.507376918),
        (14.888603897, 0, -1.507376918),
        (14.888603897, 0, -2.530169125),
        (15.911396103, 0, -2.530169125),
        (0.85786591, 0, -7.306384453),
        (1.5, 0, -6.664250363),
        (1.5, 0, -7.948518543),
        (2.14213409, 0, -7.306384453),
        (0.863603897, 0, -4.613618075),
        (1.5, 0, -3.977221972),
        (1.5, 0, -5.250014178),
        (2.136396103, 0, -4.613618075),
        (0.98286591, 0, -6.789250363),
        (0.98286591, 0, -7.823518543),
        (2.01713409, 0, -7.823518543),
        (2.01713409, 0, -6.789250363),
        (0.988603897, 0, -4.102221972),
        (0.988603897, 0, -5.125014178),
        (2.011396103, 0, -5.125014178),
        (2.011396103, 0, -4.102221972),
    ]]
    fillet(fillet1_edges, radius=FILLET1_R)

    # Chamfer4
    chamfer4_edges = [part_1.edges().sort_by_distance(p)[0] for p in [
        (15.4, -5.4, -9.379598373),
        (16.036396103, -5.4, -10.015994476),
        (14.763603897, -5.4, -10.015994476),
        (15.4, -5.4, -10.652390579),
        (15.911396103, -5.4, -10.527390579),
        (14.888603897, -5.4, -10.527390579),
        (14.888603897, -5.4, -9.504598373),
        (15.911396103, -5.4, -9.504598373),
        (15.4, -5.4, -6.742670875),
        (16.036396103, -5.4, -7.379066978),
        (14.763603897, -5.4, -7.379066978),
        (15.4, -5.4, -8.015463081),
        (15.911396103, -5.4, -7.890463081),
        (14.888603897, -5.4, -7.890463081),
        (14.888603897, -5.4, -6.867670875),
        (15.911396103, -5.4, -6.867670875),
        (14.763603897, -5.4, -4.713264461),
        (15.4, -5.4, -4.076868358),
        (16.036396103, -5.4, -4.713264461),
        (15.4, -5.4, -5.349660564),
        (15.911396103, -5.4, -5.224660564),
        (15.911396103, -5.4, -4.201868358),
        (14.888603897, -5.4, -5.224660564),
        (14.888603897, -5.4, -4.201868358),
        (15.4, -5.4, -1.382376918),
        (16.036396103, -5.4, -2.018773021),
        (14.763603897, -5.4, -2.018773021),
        (15.4, -5.4, -2.655169125),
        (15.911396103, -5.4, -2.530169125),
        (14.888603897, -5.4, -2.530169125),
        (14.888603897, -5.4, -1.507376918),
        (15.911396103, -5.4, -1.507376918),
        (0.85786591, -5.4, -7.306384453),
        (1.5, -5.4, -6.664250363),
        (2.14213409, -5.4, -7.306384453),
        (1.5, -5.4, -7.948518543),
        (2.01713409, -5.4, -6.789250363),
        (2.01713409, -5.4, -7.823518543),
        (0.98286591, -5.4, -7.823518543),
        (0.98286591, -5.4, -6.789250363),
        (0.863603897, -5.4, -4.613618075),
        (1.5, -5.4, -3.977221972),
        (2.136396103, -5.4, -4.613618075),
        (1.5, -5.4, -5.250014178),
        (2.011396103, -5.4, -4.102221972),
        (2.011396103, -5.4, -5.125014178),
        (0.988603897, -5.4, -5.125014178),
        (0.988603897, -5.4, -4.102221972),
    ]]
    chamfer(chamfer4_edges, length=CHAMFER4_SIZE)

    # Chamfer5
    chamfer5_edges = [part_1.edges().sort_by_distance(p)[0] for p in [
        (0, 0.8, -12),
        (0, 0.8, 0),
        (17, 0.8, 0),
        (17, 0.8, -12),
    ]]
    chamfer(chamfer5_edges, length=CHAMFER5_SIZE)


solid = part_1.part
